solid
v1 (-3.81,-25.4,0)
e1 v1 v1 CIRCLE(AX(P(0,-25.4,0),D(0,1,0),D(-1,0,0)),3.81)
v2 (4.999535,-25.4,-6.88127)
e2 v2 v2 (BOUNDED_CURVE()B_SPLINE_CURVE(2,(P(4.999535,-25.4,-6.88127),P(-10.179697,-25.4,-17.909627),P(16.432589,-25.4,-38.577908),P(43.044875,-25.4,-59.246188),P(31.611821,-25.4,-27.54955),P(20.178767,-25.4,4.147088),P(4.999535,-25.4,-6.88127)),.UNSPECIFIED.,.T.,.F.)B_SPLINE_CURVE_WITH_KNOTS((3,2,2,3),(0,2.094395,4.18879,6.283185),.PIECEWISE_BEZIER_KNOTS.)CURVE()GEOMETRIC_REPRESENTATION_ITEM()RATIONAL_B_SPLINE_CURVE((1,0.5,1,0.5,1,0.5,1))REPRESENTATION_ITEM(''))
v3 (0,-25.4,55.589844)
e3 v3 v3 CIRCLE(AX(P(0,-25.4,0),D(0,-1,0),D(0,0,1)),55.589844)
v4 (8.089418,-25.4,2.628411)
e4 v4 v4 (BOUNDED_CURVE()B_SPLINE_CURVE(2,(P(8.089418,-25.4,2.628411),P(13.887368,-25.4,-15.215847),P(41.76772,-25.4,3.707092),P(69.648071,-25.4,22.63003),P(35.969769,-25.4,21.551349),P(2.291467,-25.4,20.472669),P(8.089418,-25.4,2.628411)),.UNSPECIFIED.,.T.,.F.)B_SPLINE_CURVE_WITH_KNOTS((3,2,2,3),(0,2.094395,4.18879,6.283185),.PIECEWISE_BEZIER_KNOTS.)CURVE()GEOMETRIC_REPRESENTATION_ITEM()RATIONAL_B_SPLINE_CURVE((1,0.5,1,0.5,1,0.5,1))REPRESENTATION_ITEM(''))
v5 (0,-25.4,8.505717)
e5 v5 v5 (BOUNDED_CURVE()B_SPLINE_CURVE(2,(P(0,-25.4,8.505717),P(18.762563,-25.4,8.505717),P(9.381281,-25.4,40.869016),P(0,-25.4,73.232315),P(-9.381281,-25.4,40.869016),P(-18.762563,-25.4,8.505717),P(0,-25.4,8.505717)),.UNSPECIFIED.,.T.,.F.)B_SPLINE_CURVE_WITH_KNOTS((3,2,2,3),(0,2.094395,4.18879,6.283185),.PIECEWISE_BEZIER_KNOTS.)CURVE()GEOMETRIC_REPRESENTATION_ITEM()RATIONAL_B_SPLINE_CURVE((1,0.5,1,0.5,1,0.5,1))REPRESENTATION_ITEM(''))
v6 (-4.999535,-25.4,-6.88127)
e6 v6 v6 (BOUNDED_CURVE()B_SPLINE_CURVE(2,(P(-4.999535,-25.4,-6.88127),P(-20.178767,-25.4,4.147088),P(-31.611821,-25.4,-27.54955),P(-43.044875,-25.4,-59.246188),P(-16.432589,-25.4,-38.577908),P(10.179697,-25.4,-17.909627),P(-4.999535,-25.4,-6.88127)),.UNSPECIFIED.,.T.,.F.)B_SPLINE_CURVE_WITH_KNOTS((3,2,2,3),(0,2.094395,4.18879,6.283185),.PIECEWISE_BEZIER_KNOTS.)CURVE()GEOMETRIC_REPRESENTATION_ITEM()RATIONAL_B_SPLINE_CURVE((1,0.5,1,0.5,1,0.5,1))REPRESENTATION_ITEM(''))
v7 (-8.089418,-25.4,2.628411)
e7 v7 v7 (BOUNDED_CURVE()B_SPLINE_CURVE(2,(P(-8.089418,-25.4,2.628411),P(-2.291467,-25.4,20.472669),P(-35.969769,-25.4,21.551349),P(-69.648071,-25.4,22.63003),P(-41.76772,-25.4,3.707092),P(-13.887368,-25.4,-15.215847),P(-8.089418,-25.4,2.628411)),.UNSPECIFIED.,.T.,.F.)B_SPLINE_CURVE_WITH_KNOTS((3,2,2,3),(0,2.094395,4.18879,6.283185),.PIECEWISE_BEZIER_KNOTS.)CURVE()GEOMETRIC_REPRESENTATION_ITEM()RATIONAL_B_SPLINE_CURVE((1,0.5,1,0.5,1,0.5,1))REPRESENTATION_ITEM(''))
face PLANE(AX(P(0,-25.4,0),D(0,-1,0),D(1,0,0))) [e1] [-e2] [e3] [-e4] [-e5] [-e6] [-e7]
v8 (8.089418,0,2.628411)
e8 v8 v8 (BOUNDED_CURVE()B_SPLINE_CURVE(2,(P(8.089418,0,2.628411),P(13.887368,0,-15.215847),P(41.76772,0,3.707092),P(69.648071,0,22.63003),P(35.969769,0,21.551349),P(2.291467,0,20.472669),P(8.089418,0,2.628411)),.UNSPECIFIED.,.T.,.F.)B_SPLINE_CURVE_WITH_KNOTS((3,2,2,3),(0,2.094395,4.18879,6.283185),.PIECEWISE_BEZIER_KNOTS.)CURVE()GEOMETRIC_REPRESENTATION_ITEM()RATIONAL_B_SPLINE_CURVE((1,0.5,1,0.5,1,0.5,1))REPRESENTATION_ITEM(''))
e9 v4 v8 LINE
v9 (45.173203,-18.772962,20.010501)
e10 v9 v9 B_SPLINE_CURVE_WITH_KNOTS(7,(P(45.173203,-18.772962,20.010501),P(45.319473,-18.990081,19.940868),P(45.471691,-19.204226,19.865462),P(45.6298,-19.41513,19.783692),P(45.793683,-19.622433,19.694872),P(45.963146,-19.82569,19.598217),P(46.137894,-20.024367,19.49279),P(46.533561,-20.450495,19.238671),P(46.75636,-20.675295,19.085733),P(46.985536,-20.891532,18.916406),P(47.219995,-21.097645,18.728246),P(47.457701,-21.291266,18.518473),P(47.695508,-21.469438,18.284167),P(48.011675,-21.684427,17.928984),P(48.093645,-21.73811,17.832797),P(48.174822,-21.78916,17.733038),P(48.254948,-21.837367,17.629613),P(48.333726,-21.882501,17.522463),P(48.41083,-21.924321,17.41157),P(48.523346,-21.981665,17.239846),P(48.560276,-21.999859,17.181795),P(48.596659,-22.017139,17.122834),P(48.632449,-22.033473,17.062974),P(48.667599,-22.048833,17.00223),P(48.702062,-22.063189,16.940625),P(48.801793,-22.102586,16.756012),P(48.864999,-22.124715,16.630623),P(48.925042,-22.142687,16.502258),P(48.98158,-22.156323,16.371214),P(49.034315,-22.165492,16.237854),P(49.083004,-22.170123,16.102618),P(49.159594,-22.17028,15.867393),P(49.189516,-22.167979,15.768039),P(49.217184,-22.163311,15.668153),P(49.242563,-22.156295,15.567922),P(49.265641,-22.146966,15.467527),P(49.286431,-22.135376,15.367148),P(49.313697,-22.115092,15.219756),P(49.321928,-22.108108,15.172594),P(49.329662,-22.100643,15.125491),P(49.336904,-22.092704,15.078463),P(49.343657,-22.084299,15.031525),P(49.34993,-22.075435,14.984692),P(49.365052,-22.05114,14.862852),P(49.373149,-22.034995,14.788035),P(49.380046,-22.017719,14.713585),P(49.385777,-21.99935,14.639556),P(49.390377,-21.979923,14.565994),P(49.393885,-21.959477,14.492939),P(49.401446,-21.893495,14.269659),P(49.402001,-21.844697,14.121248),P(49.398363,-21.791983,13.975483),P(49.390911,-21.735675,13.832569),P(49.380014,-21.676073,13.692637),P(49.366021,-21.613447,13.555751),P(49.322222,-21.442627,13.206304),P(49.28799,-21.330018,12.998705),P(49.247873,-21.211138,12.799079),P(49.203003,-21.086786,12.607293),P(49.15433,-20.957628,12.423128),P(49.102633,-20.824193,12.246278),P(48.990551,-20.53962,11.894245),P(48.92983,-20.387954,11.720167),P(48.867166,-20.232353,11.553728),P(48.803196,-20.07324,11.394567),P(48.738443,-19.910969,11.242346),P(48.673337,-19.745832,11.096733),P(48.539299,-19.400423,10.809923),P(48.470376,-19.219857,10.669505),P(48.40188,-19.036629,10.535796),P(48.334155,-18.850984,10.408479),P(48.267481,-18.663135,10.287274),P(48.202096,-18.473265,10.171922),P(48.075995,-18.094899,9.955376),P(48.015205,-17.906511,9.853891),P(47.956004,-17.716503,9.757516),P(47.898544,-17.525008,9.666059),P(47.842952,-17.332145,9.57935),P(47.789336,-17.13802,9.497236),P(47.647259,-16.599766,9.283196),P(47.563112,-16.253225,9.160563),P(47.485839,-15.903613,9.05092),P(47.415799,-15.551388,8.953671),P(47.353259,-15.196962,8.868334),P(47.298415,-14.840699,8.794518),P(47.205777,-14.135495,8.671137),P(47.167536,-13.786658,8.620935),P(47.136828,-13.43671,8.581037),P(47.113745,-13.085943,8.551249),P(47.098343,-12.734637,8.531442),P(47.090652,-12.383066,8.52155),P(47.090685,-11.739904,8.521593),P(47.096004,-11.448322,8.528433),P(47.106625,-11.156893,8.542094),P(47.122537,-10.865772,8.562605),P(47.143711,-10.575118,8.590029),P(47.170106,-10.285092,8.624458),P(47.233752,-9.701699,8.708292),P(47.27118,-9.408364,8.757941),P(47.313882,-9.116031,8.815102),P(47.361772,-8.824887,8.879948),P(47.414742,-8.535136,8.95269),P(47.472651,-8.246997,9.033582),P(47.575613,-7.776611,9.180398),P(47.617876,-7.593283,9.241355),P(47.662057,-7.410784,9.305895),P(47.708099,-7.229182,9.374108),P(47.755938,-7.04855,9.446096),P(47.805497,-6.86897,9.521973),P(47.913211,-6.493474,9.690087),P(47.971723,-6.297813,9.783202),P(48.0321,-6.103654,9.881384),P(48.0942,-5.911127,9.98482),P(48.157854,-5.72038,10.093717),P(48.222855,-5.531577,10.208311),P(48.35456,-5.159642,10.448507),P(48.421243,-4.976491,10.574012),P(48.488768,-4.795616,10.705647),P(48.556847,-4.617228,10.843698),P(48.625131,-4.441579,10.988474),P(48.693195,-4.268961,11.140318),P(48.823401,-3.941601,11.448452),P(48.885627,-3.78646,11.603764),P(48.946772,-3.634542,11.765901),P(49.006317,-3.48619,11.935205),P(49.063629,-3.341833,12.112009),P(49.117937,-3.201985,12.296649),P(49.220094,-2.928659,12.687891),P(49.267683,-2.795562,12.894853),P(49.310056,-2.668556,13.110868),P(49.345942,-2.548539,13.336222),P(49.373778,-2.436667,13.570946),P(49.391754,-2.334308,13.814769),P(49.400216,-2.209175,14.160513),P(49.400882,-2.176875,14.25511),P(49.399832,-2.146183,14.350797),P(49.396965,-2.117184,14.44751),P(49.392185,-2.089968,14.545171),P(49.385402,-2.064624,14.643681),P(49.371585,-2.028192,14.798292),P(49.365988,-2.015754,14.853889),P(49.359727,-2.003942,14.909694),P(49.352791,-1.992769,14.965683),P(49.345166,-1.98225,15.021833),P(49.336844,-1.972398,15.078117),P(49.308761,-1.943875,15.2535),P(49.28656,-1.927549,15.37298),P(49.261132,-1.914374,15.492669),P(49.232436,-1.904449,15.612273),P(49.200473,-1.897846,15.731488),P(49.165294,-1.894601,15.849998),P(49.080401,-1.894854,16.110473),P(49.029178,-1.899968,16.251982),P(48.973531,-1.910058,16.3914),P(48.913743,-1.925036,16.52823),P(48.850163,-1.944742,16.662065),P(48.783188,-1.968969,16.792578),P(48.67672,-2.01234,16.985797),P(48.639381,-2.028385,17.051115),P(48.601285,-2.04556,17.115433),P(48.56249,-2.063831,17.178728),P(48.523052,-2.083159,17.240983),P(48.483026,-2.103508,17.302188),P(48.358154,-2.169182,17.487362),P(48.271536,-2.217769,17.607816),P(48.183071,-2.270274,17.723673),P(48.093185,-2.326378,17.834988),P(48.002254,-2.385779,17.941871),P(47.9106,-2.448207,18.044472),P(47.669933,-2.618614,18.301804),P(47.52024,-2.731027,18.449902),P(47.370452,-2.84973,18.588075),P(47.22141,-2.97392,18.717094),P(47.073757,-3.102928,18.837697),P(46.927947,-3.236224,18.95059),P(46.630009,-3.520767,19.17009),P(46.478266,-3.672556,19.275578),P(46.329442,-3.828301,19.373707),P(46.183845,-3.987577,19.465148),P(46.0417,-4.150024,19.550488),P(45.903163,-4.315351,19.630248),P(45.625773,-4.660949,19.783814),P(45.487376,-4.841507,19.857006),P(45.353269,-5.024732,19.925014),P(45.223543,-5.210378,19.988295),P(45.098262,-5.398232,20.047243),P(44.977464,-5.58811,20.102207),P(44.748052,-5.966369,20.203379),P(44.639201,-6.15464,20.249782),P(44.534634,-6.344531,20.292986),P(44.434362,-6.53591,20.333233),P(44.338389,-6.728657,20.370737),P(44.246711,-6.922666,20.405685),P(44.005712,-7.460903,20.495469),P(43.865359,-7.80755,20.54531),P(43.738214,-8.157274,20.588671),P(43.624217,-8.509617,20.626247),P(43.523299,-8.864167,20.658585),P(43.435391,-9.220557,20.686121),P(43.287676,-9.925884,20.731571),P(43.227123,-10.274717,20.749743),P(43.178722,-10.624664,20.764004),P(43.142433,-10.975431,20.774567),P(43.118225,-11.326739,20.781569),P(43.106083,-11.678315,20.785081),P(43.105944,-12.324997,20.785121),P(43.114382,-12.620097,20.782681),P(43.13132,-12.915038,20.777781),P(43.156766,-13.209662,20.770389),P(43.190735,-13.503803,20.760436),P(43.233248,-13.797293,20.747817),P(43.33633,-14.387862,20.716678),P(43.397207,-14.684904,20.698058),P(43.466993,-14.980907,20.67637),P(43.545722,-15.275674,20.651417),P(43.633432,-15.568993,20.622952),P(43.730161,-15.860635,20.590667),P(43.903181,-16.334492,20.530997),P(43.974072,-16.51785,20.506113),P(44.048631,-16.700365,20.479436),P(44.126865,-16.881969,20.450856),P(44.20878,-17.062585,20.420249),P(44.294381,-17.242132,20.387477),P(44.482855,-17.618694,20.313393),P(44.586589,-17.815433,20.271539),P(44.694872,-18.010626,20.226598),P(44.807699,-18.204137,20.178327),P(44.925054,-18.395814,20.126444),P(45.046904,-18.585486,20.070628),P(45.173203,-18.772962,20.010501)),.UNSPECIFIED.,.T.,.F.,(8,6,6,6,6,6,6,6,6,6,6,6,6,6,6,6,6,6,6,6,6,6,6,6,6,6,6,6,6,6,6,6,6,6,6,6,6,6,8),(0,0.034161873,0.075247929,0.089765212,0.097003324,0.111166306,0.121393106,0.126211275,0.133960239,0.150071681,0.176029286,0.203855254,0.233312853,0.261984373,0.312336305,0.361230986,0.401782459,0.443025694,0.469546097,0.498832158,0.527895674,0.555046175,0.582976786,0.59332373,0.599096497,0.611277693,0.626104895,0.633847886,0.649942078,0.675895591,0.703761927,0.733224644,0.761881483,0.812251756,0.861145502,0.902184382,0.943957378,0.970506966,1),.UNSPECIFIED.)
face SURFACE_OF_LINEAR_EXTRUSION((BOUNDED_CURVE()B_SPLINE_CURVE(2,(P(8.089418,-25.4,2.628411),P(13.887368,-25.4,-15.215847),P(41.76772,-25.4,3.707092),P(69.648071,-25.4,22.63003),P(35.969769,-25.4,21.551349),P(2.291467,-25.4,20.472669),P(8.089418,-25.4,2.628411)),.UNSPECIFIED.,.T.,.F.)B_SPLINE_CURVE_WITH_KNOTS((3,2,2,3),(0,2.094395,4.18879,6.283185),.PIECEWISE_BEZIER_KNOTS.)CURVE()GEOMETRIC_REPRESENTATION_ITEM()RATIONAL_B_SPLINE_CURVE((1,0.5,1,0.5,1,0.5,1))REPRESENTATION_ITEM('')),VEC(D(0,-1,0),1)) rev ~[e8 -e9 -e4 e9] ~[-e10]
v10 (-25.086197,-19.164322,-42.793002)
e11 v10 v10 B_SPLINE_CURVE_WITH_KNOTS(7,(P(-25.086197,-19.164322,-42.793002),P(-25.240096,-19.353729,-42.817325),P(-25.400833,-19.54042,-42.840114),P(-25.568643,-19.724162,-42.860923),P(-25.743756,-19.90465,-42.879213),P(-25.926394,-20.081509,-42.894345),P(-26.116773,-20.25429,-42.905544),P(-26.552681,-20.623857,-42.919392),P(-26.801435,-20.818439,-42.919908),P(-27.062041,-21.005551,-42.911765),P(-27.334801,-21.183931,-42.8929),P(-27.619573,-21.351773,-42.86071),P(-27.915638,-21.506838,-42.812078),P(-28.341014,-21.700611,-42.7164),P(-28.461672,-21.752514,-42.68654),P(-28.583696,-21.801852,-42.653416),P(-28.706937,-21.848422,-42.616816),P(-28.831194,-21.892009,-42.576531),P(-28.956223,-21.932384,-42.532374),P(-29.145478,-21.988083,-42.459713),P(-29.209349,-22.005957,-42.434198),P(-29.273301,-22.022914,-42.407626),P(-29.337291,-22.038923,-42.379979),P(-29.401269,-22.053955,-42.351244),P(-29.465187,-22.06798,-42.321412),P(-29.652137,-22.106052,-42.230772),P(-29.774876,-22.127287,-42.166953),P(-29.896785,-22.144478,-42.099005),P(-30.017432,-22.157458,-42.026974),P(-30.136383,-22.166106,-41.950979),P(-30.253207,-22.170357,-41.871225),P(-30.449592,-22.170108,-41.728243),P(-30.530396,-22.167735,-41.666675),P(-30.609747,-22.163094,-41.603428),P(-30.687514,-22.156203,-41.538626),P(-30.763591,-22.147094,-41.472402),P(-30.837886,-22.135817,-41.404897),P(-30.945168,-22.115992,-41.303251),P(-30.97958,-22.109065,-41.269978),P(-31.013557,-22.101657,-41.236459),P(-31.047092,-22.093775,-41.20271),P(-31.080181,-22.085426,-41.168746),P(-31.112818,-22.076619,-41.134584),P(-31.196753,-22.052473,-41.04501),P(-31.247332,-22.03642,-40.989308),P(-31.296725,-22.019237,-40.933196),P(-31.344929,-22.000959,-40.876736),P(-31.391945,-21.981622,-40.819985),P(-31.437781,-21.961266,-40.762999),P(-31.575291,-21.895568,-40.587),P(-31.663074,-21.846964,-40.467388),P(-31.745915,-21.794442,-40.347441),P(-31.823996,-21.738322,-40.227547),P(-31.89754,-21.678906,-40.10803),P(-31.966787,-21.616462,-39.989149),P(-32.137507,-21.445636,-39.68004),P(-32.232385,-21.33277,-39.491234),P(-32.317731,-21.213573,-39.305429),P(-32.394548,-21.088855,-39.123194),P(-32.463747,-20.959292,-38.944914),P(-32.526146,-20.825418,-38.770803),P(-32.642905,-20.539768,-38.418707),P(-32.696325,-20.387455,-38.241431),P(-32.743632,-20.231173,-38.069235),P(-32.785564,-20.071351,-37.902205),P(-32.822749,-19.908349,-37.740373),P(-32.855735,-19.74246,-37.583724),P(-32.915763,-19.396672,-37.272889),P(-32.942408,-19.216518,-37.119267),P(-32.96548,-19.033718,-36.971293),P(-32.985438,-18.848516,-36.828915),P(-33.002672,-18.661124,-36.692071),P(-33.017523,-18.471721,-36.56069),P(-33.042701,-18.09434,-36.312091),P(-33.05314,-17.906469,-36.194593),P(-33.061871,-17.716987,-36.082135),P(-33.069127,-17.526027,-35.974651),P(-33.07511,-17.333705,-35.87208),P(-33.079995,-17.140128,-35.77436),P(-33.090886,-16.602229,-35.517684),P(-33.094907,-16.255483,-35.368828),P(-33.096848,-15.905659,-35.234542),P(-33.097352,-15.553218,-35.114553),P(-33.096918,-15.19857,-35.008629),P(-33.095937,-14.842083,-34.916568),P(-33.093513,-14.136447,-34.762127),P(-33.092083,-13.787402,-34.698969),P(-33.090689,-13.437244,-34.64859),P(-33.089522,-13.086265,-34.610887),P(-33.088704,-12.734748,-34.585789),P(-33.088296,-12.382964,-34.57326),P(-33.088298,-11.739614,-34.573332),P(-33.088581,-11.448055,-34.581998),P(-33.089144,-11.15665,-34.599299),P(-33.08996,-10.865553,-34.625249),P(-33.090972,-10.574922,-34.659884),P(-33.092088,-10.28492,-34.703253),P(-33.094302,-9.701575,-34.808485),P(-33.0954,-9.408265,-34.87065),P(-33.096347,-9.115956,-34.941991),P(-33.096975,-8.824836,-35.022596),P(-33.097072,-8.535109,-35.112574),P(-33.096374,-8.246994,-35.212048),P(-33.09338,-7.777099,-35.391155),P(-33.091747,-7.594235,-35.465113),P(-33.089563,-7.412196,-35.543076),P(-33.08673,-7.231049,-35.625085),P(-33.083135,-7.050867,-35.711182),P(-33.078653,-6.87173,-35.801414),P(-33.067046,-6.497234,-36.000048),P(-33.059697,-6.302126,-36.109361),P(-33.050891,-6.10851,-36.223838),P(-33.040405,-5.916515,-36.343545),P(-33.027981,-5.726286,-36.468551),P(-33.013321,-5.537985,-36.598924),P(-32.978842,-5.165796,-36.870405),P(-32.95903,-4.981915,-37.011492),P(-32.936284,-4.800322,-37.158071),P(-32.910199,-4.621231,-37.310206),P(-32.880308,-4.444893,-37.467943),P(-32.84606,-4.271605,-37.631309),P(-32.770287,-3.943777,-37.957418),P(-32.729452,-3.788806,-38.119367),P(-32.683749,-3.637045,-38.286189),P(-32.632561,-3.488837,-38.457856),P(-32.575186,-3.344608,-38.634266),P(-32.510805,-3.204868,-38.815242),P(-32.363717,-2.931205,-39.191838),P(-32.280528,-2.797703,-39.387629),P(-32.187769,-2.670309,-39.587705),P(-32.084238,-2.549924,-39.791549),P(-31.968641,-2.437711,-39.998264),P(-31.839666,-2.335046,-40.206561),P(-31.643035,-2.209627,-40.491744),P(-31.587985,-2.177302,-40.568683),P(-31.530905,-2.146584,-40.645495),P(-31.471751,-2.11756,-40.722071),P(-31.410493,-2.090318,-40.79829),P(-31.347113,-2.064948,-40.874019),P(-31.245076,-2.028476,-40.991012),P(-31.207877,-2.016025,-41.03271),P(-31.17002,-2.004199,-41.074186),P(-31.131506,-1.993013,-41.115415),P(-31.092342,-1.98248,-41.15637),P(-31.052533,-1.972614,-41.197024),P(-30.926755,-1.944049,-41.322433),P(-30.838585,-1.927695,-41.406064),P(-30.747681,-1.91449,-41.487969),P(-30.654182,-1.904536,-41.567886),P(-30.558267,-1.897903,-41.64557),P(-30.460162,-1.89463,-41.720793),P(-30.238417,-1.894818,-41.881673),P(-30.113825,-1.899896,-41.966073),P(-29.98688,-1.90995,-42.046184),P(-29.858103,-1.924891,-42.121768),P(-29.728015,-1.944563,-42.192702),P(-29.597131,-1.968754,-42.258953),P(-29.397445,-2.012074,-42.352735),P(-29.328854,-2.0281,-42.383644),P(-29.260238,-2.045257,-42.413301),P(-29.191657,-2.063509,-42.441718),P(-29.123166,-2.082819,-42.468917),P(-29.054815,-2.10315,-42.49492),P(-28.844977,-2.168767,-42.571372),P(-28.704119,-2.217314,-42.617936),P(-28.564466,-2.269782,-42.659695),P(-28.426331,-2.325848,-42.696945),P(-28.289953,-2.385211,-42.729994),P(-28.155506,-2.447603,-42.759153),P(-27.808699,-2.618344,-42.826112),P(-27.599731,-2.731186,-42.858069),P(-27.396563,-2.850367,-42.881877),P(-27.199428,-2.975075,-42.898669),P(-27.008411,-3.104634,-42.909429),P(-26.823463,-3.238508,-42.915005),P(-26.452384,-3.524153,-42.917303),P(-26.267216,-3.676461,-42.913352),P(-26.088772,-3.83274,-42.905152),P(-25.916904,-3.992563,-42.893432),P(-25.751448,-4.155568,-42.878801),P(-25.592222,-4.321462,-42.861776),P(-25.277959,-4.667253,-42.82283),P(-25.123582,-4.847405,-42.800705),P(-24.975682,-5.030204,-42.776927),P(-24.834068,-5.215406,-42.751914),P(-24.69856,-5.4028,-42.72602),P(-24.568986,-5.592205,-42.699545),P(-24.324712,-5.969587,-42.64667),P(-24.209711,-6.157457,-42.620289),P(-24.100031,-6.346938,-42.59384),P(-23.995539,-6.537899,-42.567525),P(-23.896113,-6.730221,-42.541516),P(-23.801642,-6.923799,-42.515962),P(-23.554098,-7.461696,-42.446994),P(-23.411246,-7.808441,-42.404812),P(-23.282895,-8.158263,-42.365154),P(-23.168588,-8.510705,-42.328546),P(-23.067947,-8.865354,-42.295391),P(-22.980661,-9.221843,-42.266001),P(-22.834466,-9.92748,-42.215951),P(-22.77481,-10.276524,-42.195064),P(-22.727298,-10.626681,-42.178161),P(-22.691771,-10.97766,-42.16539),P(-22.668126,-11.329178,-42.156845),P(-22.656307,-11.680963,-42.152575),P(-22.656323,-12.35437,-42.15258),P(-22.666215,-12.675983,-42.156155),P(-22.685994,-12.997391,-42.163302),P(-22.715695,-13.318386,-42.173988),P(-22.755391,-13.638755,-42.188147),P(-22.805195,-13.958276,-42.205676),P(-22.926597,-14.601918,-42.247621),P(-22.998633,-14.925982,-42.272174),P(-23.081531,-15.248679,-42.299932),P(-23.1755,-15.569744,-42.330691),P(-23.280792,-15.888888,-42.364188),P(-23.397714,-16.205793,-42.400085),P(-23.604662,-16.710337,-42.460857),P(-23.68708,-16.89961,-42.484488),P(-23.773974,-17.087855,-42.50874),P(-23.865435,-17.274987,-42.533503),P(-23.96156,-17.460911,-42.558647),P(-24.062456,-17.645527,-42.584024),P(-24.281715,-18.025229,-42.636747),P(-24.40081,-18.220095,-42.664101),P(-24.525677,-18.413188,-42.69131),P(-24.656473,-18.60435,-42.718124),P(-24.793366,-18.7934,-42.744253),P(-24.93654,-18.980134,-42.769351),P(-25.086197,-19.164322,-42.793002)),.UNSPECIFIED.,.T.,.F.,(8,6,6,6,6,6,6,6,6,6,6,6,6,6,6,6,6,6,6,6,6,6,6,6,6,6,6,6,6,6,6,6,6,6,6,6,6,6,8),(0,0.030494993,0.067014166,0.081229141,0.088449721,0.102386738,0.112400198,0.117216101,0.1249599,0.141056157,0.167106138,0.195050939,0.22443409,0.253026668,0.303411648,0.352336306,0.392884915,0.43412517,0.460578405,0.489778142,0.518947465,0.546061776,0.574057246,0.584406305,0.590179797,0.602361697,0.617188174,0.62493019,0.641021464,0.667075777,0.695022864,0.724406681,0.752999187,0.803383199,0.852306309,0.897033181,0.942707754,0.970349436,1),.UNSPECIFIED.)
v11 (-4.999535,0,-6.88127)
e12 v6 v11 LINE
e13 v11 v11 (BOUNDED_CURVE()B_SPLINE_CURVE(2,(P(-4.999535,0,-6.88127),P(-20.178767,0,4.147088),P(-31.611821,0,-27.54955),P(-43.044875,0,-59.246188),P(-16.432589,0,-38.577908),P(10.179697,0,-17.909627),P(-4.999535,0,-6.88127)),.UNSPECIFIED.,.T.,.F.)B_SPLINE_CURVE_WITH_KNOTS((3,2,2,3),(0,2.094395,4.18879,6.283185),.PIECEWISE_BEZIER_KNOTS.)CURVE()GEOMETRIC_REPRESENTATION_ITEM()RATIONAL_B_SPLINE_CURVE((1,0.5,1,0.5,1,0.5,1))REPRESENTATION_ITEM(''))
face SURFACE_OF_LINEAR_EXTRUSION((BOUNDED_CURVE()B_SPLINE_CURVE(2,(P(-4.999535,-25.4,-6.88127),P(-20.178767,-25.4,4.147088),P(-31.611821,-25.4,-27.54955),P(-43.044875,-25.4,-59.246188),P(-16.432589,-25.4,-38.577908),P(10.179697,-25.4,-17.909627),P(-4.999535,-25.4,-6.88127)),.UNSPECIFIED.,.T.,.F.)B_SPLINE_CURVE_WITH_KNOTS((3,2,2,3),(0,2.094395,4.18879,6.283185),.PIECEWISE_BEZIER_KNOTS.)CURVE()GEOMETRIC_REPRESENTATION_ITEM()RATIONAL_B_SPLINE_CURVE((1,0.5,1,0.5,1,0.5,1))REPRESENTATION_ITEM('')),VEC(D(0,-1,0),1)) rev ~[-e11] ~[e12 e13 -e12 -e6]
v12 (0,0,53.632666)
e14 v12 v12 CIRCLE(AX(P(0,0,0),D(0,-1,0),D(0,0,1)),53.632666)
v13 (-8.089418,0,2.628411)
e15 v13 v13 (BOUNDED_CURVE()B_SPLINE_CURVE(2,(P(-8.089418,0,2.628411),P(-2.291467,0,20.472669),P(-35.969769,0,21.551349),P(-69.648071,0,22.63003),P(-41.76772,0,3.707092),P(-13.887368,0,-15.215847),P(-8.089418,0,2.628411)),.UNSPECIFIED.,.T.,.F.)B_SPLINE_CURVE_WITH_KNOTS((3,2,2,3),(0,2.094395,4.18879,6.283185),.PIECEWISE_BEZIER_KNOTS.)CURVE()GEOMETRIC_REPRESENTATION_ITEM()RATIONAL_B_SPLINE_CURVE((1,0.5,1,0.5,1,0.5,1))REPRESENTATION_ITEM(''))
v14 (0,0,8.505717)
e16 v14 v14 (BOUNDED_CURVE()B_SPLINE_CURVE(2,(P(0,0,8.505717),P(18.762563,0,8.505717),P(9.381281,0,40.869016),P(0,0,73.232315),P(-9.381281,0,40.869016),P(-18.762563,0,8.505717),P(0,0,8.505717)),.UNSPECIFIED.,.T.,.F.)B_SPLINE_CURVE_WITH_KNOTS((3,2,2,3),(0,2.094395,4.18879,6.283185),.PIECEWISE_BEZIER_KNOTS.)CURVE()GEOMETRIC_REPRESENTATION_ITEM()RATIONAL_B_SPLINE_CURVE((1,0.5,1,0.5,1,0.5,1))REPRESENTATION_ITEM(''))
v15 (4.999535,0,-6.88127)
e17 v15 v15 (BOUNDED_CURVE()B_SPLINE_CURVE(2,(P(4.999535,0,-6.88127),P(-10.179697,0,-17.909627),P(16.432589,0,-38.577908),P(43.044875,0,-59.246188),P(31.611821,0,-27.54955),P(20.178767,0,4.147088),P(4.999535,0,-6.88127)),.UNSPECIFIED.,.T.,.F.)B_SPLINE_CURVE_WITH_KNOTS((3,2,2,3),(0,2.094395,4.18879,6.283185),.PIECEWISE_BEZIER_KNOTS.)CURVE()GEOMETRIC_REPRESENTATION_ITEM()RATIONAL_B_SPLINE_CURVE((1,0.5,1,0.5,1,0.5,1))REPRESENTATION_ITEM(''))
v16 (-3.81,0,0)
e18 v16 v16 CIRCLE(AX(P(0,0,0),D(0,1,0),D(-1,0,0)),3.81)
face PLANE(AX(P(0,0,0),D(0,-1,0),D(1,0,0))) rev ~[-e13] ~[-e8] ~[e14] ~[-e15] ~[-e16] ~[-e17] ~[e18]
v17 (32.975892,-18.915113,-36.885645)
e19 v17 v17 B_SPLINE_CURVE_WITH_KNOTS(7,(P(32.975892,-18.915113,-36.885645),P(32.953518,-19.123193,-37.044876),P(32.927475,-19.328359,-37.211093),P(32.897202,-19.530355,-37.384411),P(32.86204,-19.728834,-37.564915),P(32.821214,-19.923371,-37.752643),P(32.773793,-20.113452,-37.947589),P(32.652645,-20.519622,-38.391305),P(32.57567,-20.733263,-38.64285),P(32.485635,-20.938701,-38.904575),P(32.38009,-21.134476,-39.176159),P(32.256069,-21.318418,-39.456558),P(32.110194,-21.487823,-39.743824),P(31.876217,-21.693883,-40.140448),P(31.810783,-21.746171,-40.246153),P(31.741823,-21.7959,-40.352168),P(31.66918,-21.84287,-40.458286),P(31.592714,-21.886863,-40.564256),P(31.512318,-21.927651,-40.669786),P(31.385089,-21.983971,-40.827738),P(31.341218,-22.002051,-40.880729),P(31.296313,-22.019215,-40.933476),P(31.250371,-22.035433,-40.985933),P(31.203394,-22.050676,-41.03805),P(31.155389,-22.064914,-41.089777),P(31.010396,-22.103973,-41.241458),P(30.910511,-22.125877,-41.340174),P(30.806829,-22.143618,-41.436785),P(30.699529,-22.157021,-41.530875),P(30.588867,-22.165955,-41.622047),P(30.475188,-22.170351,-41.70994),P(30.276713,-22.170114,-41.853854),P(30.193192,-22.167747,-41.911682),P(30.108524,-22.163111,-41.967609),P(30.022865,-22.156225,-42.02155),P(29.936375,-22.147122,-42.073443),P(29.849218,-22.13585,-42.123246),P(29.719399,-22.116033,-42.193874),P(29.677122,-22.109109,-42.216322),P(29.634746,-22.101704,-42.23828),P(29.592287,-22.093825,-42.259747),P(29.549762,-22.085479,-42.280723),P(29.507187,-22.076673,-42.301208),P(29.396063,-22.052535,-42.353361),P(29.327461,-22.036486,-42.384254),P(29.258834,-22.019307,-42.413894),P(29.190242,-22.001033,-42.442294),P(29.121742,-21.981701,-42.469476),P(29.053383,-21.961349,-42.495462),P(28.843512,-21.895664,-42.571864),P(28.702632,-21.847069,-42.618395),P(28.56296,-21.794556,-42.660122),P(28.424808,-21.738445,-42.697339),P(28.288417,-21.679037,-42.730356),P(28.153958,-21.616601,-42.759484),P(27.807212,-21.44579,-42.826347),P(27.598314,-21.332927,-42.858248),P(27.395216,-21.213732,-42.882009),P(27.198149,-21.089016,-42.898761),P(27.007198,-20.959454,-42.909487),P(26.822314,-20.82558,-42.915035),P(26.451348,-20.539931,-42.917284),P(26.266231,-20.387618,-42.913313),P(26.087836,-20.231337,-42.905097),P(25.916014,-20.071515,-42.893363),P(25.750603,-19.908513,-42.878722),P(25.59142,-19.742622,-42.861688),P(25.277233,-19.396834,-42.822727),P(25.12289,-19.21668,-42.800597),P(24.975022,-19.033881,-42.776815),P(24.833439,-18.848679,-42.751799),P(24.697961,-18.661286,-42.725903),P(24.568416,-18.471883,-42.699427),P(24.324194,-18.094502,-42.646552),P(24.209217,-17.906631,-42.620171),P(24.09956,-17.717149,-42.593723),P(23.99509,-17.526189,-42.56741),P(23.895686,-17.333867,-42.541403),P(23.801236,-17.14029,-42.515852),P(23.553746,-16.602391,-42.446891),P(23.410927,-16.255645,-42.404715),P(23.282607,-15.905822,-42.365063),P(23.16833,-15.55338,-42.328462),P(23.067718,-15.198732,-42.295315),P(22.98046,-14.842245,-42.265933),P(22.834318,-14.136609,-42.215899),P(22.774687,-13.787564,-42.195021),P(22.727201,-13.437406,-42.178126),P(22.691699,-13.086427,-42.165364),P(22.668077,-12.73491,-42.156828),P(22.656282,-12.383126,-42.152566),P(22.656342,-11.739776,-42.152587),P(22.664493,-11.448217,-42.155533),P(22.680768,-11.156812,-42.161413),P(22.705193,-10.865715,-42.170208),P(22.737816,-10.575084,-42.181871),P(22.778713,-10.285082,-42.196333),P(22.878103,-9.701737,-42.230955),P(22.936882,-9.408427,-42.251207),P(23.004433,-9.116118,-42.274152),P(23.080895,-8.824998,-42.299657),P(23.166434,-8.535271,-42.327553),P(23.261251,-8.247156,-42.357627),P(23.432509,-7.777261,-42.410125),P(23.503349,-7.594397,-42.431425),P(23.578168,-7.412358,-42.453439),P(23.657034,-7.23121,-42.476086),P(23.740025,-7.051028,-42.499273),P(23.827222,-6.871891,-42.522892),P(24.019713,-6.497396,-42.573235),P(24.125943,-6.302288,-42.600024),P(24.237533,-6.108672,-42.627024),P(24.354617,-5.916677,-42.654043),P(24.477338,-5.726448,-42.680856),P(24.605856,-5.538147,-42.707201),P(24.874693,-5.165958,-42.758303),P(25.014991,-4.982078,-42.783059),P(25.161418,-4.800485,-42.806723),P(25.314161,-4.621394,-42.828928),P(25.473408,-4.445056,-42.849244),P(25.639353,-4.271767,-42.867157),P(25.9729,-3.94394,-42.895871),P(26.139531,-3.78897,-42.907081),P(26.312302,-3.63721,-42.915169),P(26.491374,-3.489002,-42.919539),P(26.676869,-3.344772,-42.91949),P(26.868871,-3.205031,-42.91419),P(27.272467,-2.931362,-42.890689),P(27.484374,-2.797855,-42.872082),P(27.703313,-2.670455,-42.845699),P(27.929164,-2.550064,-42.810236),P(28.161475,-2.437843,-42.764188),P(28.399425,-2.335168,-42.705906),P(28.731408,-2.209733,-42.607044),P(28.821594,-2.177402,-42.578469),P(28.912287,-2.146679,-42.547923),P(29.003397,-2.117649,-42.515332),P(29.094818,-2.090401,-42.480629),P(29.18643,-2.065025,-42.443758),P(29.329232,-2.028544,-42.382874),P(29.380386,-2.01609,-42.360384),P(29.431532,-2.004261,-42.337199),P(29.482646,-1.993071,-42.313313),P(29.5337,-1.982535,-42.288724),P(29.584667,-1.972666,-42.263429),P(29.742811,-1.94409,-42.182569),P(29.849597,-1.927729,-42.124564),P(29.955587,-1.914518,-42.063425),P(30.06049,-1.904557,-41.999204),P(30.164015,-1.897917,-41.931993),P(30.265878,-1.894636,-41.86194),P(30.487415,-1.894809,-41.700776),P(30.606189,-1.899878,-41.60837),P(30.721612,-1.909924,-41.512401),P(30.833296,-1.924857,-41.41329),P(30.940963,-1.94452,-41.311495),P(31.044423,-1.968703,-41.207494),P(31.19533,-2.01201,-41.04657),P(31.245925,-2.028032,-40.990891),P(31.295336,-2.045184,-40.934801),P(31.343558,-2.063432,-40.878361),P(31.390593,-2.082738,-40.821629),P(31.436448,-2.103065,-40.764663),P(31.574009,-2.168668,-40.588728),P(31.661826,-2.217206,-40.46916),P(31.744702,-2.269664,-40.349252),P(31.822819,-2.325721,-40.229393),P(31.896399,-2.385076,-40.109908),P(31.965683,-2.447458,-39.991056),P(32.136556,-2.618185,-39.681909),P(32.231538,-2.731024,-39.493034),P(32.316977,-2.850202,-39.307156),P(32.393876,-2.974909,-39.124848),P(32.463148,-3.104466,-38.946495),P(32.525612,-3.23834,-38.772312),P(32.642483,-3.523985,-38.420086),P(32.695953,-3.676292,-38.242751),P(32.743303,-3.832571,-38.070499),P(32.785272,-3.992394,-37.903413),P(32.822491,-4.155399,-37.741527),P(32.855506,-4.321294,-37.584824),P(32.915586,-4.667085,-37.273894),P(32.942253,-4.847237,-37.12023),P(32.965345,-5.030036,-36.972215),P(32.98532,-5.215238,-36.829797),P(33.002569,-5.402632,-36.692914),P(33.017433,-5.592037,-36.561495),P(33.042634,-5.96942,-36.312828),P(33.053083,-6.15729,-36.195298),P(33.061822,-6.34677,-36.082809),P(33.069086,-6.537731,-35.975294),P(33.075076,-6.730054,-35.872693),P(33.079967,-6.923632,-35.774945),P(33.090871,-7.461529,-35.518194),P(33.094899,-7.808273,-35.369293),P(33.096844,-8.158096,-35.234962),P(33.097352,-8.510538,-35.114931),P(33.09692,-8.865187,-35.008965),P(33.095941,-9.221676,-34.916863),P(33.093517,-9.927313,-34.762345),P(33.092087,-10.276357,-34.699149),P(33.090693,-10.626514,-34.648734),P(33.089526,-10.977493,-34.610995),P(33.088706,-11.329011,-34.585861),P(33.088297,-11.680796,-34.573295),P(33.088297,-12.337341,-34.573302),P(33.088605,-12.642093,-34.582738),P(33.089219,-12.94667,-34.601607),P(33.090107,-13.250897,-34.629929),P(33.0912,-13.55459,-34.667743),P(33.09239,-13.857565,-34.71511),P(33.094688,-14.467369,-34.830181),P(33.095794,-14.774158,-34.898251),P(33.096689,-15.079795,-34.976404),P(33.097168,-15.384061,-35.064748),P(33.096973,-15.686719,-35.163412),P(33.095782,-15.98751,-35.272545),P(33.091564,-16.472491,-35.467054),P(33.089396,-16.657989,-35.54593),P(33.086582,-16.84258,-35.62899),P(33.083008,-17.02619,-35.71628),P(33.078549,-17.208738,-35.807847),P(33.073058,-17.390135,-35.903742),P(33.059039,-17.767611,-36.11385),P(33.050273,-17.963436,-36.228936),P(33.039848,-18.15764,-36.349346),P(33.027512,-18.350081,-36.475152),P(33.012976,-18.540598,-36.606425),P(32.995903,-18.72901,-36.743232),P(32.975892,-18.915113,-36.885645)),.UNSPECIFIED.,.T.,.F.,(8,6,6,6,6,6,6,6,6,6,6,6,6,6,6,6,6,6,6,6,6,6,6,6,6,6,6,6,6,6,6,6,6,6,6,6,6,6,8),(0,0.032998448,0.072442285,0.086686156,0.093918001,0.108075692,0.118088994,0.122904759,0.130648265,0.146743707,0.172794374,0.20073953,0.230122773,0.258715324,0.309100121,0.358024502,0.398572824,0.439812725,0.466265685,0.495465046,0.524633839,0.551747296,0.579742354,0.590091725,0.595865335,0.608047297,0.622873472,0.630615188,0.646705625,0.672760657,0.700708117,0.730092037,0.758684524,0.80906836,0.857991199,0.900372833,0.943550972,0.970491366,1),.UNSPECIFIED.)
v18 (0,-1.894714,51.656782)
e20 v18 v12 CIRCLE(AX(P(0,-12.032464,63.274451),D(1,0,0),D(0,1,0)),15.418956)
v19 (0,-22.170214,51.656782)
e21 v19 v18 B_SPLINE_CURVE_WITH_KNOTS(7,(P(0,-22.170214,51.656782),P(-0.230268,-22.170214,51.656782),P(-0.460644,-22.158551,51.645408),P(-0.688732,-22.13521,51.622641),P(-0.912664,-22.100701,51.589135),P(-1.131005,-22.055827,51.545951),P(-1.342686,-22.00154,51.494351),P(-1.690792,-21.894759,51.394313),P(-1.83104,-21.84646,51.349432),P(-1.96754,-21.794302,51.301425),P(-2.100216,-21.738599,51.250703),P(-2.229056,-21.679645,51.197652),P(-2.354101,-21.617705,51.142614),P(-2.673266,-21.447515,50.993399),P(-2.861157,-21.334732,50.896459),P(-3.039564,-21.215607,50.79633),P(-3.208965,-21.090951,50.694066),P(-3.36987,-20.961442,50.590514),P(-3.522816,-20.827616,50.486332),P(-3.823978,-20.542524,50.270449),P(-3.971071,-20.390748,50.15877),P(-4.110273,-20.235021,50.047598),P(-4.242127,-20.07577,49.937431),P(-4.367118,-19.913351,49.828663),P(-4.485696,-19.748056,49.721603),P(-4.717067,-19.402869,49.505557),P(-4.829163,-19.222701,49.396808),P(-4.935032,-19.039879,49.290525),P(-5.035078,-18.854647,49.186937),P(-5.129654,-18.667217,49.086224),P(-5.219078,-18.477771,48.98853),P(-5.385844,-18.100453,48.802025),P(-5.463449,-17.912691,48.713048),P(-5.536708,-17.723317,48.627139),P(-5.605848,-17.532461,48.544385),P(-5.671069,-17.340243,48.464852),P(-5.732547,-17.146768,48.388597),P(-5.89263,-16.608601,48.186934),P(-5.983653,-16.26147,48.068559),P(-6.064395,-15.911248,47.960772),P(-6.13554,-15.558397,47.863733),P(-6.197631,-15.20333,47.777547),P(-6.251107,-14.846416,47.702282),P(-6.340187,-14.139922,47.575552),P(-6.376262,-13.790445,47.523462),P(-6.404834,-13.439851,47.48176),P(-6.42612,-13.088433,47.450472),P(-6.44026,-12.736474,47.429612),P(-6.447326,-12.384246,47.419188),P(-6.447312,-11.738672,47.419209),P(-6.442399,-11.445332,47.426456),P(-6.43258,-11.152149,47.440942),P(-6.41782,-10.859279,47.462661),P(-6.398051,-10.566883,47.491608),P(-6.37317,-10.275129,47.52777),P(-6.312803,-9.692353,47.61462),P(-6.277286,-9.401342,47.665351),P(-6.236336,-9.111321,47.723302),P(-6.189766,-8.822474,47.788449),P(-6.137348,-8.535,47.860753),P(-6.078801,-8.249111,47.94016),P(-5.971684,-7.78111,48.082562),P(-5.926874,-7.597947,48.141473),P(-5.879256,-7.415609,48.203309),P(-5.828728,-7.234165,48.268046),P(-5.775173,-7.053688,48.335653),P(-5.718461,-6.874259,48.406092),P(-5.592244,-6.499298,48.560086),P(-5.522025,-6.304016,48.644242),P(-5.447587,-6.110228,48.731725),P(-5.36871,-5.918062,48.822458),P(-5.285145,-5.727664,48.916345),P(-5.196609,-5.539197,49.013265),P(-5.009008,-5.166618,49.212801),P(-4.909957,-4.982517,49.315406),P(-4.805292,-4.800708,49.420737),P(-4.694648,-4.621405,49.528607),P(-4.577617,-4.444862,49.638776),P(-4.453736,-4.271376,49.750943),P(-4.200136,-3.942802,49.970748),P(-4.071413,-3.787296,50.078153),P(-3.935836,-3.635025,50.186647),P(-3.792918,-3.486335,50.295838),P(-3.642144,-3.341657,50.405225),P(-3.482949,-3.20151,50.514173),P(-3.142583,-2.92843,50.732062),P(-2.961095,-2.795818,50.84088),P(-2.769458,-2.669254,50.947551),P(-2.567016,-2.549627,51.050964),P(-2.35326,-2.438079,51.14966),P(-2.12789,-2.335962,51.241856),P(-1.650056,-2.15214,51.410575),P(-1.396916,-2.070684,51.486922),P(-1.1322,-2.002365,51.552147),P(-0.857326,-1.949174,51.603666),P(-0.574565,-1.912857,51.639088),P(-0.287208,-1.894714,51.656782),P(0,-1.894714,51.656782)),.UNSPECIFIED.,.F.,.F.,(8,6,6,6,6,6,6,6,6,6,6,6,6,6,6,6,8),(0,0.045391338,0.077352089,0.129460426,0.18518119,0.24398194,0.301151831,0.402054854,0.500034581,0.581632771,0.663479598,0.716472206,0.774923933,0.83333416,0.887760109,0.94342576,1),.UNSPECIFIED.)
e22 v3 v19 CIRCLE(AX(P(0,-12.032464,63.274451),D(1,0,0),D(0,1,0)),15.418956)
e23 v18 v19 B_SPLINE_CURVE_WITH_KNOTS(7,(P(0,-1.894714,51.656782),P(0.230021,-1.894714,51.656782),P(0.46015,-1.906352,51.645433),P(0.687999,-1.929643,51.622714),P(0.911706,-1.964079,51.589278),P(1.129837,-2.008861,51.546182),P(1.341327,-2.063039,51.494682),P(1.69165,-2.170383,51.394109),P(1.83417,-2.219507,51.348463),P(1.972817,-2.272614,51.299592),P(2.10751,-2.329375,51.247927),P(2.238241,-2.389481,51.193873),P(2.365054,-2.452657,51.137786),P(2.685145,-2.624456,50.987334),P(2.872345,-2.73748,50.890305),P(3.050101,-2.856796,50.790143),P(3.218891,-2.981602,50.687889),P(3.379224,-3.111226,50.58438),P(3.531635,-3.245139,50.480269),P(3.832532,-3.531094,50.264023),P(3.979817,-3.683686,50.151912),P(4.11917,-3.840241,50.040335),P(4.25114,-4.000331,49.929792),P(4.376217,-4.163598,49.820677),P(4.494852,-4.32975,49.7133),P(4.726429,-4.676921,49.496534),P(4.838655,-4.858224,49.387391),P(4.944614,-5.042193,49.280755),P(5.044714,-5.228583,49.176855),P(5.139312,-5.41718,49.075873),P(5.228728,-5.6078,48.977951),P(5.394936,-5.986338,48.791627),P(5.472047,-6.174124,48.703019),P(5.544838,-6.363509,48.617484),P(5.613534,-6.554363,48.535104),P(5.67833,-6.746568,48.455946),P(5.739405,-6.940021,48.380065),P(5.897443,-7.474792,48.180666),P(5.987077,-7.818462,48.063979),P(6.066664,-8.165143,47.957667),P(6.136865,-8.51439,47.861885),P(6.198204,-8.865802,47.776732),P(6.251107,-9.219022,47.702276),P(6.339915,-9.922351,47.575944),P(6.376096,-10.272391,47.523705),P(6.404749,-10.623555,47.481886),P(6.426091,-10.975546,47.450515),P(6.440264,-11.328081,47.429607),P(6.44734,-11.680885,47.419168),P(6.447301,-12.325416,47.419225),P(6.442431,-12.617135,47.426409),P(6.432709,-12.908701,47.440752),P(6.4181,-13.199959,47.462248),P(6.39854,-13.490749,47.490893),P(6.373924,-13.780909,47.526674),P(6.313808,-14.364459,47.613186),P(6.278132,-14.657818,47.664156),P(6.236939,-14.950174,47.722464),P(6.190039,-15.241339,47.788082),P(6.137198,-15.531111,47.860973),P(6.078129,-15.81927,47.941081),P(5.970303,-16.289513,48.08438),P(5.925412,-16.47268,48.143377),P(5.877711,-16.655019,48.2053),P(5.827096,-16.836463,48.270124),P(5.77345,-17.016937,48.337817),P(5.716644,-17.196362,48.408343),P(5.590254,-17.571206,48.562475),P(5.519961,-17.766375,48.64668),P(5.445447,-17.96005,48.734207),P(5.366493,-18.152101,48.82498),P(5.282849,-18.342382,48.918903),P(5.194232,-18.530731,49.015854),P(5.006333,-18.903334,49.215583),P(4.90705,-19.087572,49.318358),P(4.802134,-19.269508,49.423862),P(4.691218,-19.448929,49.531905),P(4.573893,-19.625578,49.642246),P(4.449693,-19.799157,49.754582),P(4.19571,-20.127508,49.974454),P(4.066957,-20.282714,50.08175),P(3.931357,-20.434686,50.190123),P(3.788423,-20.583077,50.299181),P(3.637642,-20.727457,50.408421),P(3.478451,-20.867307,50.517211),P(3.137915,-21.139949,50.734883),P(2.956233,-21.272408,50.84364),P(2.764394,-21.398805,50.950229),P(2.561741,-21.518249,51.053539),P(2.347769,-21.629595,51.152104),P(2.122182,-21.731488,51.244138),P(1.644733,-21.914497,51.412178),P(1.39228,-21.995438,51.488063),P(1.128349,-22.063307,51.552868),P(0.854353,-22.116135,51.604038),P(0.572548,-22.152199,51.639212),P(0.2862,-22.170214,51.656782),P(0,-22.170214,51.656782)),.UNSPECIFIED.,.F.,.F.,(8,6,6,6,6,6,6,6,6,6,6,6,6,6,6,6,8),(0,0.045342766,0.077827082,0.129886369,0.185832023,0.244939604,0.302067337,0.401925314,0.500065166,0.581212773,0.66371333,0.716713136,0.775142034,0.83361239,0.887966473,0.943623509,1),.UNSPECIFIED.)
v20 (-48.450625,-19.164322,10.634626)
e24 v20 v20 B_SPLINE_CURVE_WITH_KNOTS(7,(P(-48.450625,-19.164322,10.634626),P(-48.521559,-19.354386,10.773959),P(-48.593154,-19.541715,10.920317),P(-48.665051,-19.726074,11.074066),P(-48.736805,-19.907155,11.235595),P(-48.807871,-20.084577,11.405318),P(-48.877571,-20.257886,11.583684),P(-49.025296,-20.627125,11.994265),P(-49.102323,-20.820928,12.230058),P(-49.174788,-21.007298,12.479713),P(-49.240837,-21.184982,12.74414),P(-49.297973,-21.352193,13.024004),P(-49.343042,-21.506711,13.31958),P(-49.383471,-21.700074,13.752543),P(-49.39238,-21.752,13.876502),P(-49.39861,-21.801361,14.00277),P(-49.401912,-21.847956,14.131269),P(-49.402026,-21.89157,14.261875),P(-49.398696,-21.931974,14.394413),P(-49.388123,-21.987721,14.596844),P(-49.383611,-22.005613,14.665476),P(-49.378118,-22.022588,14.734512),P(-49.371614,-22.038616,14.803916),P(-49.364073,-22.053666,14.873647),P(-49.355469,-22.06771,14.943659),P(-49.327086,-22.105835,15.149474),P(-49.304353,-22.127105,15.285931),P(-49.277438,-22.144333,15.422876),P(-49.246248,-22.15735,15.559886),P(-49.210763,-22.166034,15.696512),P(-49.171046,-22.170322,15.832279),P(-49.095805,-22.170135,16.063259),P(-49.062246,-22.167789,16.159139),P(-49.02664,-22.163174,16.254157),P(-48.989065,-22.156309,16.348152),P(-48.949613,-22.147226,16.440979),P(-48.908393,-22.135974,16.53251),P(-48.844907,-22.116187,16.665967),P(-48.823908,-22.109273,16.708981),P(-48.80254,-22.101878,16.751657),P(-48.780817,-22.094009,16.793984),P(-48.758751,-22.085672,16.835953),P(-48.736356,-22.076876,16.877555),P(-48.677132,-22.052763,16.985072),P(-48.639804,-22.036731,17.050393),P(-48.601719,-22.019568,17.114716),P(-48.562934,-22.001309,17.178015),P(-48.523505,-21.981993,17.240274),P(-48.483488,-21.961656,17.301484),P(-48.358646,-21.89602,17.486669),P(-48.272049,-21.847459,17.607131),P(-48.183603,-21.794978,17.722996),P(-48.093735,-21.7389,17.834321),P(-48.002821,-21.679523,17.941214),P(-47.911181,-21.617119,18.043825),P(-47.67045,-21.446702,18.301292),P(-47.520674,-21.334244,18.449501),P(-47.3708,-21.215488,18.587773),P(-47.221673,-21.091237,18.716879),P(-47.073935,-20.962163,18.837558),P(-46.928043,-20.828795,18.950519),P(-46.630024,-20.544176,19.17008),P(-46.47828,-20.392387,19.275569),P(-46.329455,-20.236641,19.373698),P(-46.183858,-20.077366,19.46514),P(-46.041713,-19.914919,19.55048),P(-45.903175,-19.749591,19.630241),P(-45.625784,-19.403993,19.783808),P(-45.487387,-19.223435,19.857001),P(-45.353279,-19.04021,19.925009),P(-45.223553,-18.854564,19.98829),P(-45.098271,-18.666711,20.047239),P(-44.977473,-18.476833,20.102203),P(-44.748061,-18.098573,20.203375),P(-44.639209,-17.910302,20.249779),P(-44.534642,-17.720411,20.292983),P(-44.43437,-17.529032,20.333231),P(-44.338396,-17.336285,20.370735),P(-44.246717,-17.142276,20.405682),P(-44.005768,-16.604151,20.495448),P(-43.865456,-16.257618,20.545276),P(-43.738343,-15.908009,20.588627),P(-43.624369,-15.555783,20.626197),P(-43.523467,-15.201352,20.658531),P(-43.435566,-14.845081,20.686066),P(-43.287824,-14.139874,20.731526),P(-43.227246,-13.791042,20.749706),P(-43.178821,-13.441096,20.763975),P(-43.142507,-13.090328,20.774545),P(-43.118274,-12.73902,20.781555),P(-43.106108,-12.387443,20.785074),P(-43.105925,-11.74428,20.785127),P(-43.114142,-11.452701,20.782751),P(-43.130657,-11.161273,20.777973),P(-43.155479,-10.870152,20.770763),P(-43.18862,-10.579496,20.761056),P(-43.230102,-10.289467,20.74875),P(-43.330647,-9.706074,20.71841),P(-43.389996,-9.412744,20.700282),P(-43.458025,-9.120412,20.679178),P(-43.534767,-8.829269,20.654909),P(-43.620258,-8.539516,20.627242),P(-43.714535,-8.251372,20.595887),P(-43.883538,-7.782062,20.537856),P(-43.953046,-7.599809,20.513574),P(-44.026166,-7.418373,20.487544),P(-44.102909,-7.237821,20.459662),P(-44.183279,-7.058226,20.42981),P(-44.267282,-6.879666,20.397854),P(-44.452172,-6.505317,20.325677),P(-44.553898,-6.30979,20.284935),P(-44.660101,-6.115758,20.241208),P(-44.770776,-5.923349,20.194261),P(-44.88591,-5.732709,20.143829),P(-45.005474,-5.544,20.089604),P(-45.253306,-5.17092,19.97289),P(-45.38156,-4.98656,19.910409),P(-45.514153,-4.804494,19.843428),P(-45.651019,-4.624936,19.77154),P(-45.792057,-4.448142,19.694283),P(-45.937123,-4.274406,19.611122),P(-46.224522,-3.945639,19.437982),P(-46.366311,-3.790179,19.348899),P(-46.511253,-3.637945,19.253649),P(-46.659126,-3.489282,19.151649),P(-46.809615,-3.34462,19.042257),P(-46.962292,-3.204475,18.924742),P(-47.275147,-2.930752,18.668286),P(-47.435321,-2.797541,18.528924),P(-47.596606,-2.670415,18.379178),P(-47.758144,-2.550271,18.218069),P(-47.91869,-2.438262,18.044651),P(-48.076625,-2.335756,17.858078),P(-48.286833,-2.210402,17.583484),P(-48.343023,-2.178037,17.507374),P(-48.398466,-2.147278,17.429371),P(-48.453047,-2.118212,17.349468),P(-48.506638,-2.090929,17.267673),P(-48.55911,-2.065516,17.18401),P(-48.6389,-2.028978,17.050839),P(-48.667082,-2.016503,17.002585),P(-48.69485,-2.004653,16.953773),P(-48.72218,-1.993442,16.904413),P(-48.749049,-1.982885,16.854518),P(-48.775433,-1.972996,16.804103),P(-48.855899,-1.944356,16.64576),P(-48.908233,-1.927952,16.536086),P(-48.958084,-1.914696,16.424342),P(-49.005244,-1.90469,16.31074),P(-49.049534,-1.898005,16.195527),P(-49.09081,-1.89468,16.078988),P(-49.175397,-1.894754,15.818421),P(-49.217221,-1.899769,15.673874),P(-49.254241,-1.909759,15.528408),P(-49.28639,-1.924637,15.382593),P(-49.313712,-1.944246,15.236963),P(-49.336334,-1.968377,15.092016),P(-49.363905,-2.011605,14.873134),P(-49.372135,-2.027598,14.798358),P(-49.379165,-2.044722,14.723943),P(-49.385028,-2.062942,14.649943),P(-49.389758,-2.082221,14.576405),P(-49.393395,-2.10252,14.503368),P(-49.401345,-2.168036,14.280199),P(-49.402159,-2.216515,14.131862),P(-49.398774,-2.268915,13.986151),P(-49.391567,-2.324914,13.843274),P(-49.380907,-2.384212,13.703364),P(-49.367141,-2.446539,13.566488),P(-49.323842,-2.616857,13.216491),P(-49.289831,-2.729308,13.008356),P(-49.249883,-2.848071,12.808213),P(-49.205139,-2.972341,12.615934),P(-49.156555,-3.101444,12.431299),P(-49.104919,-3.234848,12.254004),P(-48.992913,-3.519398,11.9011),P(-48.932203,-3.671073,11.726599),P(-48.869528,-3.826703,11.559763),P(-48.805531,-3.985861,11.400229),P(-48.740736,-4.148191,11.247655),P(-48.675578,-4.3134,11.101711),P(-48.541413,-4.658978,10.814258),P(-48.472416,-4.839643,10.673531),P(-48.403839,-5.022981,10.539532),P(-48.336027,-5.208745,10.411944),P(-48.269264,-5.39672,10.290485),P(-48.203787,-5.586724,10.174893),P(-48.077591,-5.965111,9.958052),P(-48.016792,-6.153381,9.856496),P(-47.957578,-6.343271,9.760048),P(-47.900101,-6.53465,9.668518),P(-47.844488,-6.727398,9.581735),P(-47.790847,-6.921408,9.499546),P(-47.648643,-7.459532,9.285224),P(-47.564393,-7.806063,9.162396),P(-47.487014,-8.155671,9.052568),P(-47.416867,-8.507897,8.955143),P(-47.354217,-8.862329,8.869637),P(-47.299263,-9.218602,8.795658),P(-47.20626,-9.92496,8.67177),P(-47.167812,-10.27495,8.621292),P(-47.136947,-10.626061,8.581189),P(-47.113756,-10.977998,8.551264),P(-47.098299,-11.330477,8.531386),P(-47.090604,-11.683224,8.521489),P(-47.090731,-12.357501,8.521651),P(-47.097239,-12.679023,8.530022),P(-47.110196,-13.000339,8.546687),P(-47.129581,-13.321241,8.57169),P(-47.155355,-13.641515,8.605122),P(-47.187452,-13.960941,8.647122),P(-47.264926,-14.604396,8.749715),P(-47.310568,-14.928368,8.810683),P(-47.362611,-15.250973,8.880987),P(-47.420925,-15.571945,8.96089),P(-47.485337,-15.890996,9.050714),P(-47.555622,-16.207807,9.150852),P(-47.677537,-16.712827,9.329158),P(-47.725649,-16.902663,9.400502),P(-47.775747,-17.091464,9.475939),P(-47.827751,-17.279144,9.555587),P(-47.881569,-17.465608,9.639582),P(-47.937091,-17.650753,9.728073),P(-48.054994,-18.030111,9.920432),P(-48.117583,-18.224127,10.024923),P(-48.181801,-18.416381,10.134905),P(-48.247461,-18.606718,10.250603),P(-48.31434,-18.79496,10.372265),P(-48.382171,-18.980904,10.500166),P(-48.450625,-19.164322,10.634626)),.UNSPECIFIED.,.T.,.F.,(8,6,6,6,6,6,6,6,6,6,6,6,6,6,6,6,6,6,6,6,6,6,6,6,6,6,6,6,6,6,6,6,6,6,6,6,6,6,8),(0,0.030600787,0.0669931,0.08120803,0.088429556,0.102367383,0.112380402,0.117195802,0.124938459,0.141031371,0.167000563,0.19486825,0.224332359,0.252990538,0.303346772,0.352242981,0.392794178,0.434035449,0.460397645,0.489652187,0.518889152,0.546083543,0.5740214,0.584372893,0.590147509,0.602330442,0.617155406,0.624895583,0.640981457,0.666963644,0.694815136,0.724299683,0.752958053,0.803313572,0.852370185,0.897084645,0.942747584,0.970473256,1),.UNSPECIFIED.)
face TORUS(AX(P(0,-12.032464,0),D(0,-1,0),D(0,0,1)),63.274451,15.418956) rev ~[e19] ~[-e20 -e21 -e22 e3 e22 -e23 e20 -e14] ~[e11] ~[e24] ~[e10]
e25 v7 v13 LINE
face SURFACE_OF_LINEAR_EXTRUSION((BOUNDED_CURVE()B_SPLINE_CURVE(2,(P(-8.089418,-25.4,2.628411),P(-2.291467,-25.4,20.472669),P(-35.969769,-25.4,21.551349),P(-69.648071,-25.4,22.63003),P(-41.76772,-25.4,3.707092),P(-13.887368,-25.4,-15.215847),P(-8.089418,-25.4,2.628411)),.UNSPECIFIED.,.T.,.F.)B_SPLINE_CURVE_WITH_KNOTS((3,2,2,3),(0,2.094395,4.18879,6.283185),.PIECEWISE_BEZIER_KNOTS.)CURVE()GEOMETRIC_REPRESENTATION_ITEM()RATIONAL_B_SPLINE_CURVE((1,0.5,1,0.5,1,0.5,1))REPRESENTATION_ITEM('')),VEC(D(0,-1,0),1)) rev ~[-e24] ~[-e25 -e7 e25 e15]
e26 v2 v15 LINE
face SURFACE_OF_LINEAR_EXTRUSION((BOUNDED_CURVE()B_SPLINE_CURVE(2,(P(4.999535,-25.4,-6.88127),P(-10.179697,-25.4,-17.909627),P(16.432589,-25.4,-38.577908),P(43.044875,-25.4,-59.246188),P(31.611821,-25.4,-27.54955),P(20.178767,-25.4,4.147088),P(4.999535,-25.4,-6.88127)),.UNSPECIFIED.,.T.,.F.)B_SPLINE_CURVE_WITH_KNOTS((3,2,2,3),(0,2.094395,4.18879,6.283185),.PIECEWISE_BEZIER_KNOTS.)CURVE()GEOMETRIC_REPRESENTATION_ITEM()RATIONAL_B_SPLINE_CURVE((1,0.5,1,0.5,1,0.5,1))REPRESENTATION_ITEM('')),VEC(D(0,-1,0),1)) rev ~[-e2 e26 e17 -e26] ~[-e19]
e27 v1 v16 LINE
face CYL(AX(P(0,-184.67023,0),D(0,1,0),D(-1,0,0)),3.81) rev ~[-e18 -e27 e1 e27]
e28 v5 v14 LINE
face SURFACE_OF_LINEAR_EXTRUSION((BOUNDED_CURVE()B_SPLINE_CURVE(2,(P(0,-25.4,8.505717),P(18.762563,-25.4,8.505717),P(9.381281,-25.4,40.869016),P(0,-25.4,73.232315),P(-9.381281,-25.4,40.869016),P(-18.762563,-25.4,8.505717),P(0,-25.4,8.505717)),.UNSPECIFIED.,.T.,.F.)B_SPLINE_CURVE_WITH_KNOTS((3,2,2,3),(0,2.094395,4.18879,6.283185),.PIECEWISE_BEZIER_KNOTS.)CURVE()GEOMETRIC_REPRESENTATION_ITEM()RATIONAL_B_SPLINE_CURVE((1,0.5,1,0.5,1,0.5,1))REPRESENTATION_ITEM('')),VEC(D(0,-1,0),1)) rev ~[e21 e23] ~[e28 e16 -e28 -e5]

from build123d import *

# Parameters (mm, degrees)
F0_R     = 58.340136
F1_DEPTH = 25.4
F4_DEPTH = 25.4
F5_R     = 15.418956
F8_D     = 7.62


with BuildPart() as f1:
    # F0 (on Front) → F1 (new body)
    with BuildSketch(Plane.XZ):
        Circle(F0_R)
    extrude(amount=F1_DEPTH)

    # F2 (on face) + F3 (on face) → F4 (cut)
    with BuildSketch(Plane.XZ.offset(25.4)):
        with BuildLine():
            add(Edge.make_bspline(
                [(4.999535, -6.88127), (-10.179697, -17.909627), (16.432589, -38.577908), (43.044875, -59.246188), (31.611821, -27.54955), (20.178767, 4.147088), (4.999535, -6.88127)],
                knots=[0, 0, 0, 2.094395, 2.094395, 4.18879, 4.18879, 6.283185, 6.283185, 6.283185], degree=2, weights=[1, 0.5, 1, 0.5, 1, 0.5, 1]))
        make_face()
        with BuildLine():
            add(Edge.make_bspline(
                [(-8.089418, 2.628411), (-2.291467, 20.472669), (-35.969769, 21.551349), (-69.648071, 22.63003), (-41.76772, 3.707092), (-13.887368, -15.215847), (-8.089418, 2.628411)],
                knots=[0, 0, 0, 2.094395, 2.094395, 4.18879, 4.18879, 6.283185, 6.283185, 6.283185], degree=2, weights=[1, 0.5, 1, 0.5, 1, 0.5, 1]))
        make_face()
        with BuildLine():
            add(Edge.make_bspline(
                [(-4.999535, -6.88127), (-20.178767, 4.147088), (-31.611821, -27.54955), (-43.044875, -59.246188), (-16.432589, -38.577908), (10.179697, -17.909627), (-4.999535, -6.88127)],
                knots=[0, 0, 0, 2.094395, 2.094395, 4.18879, 4.18879, 6.283185, 6.283185, 6.283185], degree=2, weights=[1, 0.5, 1, 0.5, 1, 0.5, 1]))
        make_face()
        with BuildLine():
            add(Edge.make_bspline(
                [(8.089418, 2.628411), (13.887368, -15.215847), (41.76772, 3.707092), (69.648071, 22.63003), (35.969769, 21.551349), (2.291467, 20.472669), (8.089418, 2.628411)],
                knots=[0, 0, 0, 2.094395, 2.094395, 4.18879, 4.18879, 6.283185, 6.283185, 6.283185], degree=2, weights=[1, 0.5, 1, 0.5, 1, 0.5, 1]))
        make_face()
    with BuildSketch(Plane.XZ.offset(25.4)):
        with BuildLine():
            add(Edge.make_bspline(
                [(0, 8.505717), (18.762563, 8.505717), (9.381281, 40.869016), (0, 73.232315), (-9.381281, 40.869016), (-18.762563, 8.505717), (0, 8.505717)],
                knots=[0, 0, 0, 2.094395, 2.094395, 4.18879, 4.18879, 6.283185, 6.283185, 6.283185], degree=2, weights=[1, 0.5, 1, 0.5, 1, 0.5, 1]))
        make_face()
    extrude(amount=-F4_DEPTH, mode=Mode.SUBTRACT)

    # F5 (on Right) → F6 (revolve, cut)
    with BuildSketch(Plane.YZ):
        with Locations((-12.032464, 63.274451)):
            Circle(F5_R)
    revolve(axis=Axis((0, -25.4, 0), (0, -1, 0)), mode=Mode.SUBTRACT)

    # F8 (through all)
    with Locations(Plane.XZ.offset(25.4)):
        with Locations((0, 0)):
            Hole(F8_D / 2)


solid = f1.part
